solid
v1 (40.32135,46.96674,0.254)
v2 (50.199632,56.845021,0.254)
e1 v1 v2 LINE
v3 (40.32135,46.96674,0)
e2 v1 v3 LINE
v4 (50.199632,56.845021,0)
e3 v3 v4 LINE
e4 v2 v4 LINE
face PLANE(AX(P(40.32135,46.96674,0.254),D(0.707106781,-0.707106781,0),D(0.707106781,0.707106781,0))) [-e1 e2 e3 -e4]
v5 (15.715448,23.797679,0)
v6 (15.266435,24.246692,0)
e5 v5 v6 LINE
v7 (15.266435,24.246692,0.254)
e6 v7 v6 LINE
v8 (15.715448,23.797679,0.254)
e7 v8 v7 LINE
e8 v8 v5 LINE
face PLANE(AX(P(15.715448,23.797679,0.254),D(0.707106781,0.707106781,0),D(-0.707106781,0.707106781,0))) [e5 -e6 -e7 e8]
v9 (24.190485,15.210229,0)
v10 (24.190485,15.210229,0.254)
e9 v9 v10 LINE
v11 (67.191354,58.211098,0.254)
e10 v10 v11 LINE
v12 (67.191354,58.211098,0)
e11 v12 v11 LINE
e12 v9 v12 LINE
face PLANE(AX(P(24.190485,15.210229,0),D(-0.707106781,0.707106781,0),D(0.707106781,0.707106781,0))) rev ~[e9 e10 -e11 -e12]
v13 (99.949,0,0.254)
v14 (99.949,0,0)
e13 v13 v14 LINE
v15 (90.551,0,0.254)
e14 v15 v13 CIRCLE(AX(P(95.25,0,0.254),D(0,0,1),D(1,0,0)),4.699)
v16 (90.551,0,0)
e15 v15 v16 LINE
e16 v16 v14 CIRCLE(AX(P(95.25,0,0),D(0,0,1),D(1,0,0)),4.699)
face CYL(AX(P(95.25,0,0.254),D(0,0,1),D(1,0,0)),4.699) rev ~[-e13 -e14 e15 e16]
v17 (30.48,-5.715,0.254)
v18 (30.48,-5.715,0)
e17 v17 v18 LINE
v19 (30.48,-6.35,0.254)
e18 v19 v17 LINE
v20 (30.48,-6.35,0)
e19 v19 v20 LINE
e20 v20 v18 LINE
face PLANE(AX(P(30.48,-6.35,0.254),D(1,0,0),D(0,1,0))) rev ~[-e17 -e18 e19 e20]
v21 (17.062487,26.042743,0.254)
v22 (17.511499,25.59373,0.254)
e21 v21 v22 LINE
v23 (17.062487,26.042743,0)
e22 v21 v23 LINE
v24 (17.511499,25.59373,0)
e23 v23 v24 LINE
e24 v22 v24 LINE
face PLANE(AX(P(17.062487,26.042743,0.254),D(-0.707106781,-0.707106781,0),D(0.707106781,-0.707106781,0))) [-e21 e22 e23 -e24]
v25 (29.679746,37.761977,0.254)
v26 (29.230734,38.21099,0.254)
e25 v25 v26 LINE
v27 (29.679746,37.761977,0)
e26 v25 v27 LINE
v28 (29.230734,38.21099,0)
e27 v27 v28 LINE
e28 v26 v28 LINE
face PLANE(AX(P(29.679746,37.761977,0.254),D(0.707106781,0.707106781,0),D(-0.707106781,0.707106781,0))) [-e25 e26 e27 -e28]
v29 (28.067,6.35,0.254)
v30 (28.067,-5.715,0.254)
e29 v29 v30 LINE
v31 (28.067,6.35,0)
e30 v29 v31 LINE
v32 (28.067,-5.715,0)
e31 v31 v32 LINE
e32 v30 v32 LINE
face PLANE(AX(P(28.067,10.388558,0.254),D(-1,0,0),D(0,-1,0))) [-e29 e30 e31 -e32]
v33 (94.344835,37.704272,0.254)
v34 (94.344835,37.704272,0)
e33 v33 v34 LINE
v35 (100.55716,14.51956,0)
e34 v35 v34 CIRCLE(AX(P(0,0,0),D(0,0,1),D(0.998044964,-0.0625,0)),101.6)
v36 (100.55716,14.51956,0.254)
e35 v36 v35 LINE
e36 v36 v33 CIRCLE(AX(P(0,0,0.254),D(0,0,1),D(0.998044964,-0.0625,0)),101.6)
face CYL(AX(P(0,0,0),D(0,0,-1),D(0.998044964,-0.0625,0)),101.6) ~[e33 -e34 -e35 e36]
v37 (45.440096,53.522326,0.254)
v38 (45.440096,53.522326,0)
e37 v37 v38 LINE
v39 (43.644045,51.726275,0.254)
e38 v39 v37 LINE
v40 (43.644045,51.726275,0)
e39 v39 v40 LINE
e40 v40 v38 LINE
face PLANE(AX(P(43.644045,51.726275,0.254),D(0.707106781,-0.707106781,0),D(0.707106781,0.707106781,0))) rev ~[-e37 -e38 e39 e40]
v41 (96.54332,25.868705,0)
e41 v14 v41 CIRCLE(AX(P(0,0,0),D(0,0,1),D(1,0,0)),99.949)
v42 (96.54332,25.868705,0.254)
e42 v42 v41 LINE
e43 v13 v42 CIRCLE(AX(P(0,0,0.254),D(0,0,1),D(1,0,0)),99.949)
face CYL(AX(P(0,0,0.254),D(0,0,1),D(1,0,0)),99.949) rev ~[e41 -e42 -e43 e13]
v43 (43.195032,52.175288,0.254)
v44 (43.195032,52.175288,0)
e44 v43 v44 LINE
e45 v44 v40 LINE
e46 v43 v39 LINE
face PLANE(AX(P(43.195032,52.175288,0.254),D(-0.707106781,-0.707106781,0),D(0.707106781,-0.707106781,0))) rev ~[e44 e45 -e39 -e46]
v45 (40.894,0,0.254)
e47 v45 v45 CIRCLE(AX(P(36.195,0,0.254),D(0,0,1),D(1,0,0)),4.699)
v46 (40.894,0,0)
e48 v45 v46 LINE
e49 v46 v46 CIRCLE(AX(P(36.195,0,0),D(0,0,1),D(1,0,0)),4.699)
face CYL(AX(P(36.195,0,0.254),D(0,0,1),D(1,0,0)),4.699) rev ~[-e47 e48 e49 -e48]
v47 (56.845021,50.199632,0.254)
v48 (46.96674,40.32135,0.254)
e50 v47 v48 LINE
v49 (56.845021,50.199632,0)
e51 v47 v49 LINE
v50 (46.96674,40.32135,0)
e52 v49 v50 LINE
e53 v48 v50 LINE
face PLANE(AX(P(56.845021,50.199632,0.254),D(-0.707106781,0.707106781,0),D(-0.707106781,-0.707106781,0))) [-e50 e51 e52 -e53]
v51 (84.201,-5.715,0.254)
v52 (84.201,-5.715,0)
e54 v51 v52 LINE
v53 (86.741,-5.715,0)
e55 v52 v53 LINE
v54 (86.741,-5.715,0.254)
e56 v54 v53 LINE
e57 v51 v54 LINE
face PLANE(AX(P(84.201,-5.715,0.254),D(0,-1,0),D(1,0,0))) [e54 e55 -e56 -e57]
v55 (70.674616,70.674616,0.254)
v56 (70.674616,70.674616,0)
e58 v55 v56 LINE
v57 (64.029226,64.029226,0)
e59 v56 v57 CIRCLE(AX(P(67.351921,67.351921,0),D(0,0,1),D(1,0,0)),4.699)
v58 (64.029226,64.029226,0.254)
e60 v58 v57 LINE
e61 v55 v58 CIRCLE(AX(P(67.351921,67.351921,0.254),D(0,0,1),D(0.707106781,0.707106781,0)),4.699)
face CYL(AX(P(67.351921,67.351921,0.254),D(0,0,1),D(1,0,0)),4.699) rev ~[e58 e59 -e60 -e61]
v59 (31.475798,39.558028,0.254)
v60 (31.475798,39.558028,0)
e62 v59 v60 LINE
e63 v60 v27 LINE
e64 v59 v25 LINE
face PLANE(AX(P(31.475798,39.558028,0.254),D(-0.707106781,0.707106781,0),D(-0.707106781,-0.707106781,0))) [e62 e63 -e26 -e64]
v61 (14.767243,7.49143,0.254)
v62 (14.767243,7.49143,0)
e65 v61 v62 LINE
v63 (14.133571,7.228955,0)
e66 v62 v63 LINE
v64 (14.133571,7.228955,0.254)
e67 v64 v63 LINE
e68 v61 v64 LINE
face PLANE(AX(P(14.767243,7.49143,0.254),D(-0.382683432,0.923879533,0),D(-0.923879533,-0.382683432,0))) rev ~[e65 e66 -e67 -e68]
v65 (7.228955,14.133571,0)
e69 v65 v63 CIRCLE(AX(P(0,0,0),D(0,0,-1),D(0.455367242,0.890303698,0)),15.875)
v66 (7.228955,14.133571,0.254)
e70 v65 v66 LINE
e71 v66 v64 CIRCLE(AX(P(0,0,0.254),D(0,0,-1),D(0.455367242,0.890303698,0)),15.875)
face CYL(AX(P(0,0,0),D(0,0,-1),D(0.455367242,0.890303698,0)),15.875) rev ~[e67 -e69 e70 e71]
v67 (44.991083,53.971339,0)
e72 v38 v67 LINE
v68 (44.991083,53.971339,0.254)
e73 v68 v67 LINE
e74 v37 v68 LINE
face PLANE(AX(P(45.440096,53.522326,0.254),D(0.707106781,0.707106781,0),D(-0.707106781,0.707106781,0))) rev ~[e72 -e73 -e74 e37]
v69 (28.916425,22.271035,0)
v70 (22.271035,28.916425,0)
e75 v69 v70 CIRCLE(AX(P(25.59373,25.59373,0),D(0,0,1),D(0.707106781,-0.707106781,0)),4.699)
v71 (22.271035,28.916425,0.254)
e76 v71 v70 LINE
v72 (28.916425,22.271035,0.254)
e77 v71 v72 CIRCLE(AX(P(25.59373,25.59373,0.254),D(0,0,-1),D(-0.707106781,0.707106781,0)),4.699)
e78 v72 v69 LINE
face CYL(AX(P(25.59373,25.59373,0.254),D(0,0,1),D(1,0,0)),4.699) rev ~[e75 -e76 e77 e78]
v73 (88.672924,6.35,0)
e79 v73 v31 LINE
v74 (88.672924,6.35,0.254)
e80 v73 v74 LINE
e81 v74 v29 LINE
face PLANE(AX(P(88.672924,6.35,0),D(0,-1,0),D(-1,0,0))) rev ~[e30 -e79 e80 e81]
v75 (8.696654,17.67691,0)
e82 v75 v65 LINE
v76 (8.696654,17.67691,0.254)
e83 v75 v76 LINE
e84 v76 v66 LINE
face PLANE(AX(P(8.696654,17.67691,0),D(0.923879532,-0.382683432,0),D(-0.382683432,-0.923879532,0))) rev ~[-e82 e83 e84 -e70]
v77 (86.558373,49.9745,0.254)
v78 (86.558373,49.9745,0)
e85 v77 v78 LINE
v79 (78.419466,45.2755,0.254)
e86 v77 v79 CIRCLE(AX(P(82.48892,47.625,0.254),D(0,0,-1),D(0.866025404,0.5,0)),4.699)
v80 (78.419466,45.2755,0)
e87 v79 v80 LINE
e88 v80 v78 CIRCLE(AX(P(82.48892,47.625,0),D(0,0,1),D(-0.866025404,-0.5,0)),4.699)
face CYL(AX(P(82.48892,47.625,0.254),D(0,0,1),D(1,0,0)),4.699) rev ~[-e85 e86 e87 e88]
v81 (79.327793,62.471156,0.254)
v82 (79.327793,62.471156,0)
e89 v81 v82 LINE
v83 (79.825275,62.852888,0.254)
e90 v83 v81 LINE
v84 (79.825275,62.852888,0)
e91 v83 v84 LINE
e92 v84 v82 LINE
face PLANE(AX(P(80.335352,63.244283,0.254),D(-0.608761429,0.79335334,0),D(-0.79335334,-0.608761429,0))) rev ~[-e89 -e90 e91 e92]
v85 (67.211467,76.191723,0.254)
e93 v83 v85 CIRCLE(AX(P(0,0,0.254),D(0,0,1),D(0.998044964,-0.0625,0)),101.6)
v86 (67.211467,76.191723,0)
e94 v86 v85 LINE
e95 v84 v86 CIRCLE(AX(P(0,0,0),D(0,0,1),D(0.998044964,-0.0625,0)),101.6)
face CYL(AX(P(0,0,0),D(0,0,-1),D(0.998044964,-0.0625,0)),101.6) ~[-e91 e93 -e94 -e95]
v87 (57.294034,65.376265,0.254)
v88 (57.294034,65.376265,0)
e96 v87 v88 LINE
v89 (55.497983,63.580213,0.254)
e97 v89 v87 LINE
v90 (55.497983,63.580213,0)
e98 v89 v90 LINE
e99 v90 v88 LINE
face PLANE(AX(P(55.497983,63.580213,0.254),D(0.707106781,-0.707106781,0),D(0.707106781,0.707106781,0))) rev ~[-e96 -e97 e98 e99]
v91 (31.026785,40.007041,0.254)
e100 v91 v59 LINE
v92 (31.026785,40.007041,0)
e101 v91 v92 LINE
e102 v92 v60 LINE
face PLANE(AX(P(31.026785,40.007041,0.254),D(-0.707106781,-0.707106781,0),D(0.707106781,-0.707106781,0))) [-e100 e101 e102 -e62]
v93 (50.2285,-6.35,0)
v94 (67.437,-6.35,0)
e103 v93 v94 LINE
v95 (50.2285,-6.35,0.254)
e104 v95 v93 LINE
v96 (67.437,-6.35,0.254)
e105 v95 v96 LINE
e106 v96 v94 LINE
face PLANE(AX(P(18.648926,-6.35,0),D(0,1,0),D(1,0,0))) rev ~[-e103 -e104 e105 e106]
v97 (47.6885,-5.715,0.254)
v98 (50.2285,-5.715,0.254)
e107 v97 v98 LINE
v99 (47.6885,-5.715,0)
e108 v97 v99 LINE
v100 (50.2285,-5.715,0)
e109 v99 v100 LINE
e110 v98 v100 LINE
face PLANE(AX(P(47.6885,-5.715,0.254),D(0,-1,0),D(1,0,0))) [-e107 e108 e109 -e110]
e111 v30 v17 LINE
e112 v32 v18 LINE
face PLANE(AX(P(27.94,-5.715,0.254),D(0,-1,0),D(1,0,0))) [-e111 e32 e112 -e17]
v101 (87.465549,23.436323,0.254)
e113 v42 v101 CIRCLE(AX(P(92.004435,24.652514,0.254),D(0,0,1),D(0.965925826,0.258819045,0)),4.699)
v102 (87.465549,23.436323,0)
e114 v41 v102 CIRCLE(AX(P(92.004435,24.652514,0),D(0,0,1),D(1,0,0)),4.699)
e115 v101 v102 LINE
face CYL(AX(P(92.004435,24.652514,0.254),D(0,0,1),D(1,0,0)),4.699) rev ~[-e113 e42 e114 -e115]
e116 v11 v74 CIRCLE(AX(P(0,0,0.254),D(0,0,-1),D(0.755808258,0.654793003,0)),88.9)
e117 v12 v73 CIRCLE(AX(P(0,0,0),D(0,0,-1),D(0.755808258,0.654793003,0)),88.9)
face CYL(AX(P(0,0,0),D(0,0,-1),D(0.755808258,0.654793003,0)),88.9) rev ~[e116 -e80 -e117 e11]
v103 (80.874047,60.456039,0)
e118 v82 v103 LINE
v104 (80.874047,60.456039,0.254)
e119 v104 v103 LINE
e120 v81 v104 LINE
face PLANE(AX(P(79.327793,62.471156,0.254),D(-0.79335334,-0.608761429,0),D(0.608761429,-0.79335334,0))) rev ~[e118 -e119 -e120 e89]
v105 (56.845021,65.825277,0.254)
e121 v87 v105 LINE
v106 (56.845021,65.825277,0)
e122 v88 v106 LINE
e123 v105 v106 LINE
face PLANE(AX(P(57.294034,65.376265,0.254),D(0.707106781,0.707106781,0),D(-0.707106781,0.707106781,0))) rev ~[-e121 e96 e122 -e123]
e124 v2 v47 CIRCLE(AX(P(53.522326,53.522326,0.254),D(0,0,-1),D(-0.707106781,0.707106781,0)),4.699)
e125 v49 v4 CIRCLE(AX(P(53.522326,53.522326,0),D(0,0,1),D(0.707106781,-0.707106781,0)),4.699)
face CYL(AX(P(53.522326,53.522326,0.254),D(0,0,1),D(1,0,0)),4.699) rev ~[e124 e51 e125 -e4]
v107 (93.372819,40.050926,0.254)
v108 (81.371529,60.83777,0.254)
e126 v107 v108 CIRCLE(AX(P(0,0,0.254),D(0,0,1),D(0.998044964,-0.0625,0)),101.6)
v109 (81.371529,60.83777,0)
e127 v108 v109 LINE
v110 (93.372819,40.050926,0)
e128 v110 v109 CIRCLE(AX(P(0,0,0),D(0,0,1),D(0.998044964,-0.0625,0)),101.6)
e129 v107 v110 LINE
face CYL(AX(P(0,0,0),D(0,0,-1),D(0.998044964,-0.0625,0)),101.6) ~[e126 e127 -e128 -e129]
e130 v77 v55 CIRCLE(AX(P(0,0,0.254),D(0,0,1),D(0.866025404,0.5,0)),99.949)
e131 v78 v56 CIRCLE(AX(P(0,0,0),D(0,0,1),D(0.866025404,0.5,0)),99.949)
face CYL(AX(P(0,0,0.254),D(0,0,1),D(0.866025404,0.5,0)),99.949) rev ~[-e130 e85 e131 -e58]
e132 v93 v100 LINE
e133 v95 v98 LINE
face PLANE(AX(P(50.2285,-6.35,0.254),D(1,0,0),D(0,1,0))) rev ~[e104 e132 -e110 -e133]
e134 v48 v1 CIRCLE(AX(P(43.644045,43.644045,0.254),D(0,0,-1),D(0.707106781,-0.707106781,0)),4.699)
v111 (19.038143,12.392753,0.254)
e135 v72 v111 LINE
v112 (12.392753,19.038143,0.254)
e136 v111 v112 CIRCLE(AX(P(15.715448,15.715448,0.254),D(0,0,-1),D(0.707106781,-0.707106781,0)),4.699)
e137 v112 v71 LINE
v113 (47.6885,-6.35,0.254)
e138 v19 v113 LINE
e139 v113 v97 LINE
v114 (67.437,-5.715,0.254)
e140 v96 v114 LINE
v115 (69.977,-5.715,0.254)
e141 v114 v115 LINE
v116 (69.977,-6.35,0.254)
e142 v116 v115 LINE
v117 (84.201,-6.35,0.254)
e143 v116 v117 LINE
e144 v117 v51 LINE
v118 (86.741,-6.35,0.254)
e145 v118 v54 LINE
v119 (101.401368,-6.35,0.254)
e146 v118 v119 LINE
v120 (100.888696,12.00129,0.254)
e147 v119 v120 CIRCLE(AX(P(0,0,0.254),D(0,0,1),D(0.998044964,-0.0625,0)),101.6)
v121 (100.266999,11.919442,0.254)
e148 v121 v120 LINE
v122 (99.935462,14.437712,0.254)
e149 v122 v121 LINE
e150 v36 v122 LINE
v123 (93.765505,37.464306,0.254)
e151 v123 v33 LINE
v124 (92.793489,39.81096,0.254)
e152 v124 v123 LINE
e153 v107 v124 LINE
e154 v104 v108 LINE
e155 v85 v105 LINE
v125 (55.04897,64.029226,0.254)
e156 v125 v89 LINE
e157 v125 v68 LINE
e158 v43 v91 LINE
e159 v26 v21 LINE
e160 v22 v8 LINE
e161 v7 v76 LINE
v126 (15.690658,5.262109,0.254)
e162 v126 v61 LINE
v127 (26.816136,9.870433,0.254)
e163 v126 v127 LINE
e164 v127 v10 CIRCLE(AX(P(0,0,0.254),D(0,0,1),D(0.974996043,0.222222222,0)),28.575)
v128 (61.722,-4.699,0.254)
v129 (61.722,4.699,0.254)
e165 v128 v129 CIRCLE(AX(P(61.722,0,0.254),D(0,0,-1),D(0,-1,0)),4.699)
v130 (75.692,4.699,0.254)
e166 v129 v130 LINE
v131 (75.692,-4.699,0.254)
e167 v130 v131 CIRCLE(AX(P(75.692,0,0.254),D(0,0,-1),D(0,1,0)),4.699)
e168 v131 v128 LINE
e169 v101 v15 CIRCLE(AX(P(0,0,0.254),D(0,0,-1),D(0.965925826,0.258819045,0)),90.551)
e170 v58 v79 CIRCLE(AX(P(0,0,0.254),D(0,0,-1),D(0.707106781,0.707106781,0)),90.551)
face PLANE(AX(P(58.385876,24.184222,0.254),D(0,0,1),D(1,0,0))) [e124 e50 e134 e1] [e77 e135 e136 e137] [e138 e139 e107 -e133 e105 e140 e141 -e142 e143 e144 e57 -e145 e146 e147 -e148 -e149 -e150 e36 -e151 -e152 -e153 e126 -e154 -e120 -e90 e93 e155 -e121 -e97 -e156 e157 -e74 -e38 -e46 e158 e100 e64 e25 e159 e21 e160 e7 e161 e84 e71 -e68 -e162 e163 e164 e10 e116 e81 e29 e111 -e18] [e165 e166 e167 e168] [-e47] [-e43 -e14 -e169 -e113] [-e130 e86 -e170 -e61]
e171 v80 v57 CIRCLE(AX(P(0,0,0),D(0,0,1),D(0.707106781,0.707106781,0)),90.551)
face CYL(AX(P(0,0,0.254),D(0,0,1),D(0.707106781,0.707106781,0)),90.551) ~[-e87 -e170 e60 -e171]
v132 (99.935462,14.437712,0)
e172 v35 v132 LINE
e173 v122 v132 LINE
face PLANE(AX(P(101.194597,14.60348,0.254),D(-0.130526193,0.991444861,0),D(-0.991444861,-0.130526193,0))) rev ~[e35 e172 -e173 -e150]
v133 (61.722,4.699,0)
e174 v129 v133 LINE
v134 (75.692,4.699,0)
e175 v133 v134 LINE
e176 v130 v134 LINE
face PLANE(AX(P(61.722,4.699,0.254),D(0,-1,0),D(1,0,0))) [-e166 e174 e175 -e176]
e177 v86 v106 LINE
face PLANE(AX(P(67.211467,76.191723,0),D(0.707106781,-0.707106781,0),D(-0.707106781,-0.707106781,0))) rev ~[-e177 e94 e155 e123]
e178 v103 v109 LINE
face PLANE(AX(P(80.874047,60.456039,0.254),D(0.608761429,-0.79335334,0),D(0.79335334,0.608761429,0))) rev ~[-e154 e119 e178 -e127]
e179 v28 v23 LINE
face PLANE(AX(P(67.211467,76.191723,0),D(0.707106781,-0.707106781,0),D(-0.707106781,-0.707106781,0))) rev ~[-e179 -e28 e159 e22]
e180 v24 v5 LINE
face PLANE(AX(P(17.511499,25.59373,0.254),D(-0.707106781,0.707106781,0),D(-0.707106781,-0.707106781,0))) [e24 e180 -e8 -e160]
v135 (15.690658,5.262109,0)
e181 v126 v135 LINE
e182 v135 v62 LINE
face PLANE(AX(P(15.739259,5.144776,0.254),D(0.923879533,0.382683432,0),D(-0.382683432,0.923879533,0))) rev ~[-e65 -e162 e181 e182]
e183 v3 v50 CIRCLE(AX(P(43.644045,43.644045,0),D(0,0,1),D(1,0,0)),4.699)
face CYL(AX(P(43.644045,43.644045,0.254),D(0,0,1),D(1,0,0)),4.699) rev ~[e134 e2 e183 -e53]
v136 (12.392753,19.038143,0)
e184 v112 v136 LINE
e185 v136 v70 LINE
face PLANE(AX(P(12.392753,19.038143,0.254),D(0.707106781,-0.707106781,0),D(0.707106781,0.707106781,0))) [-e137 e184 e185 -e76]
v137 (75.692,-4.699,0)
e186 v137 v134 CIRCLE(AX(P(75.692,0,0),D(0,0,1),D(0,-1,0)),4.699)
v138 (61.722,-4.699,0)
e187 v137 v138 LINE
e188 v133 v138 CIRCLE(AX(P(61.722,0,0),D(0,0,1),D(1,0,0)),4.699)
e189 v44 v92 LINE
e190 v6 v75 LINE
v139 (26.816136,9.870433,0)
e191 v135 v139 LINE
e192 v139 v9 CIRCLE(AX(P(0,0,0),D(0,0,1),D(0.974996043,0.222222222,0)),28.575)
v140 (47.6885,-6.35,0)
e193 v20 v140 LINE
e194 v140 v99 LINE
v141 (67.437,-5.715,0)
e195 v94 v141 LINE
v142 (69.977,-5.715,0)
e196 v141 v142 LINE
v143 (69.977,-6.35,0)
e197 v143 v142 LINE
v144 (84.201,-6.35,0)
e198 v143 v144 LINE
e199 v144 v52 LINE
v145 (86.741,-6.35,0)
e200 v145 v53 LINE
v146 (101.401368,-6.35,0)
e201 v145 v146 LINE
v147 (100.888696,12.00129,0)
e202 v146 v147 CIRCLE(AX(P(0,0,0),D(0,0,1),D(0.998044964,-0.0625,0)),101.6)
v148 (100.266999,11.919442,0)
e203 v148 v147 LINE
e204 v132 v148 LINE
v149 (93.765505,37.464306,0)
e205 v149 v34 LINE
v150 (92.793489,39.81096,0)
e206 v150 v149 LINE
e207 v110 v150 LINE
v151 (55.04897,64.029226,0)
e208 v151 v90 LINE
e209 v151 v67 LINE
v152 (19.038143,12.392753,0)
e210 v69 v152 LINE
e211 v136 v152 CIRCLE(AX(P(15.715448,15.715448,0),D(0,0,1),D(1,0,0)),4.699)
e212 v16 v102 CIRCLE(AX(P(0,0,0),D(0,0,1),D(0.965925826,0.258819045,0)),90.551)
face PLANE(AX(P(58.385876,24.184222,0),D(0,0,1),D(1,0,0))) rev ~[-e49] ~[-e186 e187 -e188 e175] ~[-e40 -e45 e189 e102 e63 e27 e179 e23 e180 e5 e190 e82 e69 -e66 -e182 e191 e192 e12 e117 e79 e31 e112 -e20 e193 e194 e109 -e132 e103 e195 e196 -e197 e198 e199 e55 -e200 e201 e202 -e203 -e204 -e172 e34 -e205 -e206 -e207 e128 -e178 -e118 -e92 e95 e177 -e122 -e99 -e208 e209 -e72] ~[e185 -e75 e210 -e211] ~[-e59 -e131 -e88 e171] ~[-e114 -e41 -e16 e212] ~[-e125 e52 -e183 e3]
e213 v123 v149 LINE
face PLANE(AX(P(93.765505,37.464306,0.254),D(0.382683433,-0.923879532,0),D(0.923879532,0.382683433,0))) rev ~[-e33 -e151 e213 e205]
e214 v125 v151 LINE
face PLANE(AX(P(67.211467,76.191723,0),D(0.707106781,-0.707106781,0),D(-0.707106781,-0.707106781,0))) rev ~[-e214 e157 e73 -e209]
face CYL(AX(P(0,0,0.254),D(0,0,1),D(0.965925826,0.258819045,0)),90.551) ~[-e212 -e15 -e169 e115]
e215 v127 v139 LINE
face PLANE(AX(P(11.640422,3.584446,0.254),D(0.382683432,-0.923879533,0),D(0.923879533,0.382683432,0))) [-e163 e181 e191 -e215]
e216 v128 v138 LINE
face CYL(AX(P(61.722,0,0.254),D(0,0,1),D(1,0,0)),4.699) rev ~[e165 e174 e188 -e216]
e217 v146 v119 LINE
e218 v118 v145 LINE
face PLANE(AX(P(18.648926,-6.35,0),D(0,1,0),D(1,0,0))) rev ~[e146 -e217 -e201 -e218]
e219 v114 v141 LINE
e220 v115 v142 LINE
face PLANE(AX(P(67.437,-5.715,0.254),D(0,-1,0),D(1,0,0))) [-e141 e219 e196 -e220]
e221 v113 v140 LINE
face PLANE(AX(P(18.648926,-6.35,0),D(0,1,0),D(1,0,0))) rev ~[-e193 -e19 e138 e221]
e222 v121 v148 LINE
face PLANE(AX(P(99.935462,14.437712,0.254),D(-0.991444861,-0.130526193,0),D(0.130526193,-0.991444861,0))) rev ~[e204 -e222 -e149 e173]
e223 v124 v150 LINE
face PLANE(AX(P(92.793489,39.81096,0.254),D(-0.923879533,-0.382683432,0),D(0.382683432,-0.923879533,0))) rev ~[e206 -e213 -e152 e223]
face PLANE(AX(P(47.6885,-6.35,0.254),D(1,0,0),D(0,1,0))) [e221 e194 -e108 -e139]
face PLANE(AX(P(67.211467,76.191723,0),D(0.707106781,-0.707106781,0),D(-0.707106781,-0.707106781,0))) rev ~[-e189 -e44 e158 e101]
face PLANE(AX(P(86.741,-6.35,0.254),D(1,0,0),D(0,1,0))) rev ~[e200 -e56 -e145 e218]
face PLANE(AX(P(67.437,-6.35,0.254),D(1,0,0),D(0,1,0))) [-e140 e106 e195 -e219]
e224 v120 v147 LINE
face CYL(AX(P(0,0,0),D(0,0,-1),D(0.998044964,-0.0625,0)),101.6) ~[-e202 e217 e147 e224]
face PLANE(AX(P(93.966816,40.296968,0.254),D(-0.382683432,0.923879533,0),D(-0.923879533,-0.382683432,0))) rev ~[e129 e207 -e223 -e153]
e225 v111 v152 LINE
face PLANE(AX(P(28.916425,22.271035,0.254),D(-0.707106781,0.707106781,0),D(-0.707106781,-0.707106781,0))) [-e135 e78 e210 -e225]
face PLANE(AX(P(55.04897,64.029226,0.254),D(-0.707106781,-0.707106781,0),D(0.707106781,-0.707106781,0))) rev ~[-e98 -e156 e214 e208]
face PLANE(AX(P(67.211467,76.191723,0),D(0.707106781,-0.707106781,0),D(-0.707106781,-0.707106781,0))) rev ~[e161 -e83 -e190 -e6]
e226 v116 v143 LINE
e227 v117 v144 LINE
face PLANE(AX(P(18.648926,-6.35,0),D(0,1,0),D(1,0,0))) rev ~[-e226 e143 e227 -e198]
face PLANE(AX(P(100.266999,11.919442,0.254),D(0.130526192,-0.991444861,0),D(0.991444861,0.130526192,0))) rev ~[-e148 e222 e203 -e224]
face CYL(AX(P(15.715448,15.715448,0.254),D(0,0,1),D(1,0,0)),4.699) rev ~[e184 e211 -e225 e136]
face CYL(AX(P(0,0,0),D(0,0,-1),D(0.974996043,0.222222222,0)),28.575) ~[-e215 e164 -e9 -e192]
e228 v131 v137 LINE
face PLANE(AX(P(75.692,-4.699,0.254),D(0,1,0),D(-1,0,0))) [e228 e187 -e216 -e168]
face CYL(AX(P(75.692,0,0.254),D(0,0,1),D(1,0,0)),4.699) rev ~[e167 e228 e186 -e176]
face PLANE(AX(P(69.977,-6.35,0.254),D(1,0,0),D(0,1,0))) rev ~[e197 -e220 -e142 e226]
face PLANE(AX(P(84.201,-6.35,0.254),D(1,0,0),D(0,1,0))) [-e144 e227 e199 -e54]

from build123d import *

# Parameters (mm, degrees)
BOSS_EXTRUDE1_DEPTH = 0.254
SKETCH2_R           = 4.699
CUT_EXTRUDE1_DEPTH  = 1.254
SKETCH3_W           = 2.54
SKETCH3_H           = 0.635
CUT_EXTRUDE2_DEPTH  = 1.254
CUT_EXTRUDE4_DEPTH  = 1.254
CUT_EXTRUDE5_DEPTH  = 1.254


with BuildPart() as part:
    # Sketch1 → Boss-Extrude1 (new body)
    with BuildSketch(Plane.XY):
        with BuildLine():
            Line((67.21146711, 76.191723231), (8.696654013, 17.676910134))
            Line((8.696654013, 17.676910134), (7.228954972, 14.133571205))
            ThreePointArc((7.228954972, 14.133571205), (14.666587579, 6.075099489), (15.105587123, -4.88230096))
            Line((15.105587123, -4.88230096), (18.648926052, -6.35))
            Line((18.648926052, -6.35), (101.401368334, -6.35))
            ThreePointArc((101.401368334, -6.35), (93.866160503, 38.880636728), (67.21146711, 76.191723231))
        make_face()
        with BuildLine():
            Line((88.672924278, 6.35), (27.86051193, 6.35))
            ThreePointArc((27.86051193, 6.35), (26.399857642, 10.93517908), (24.190484974, 15.210228852))
            Line((24.190484974, 15.210228852), (67.191354125, 58.211098004))
            ThreePointArc((67.191354125, 58.211098004), (82.13289044, 34.020557137), (88.672924278, 6.35))
        make_face(mode=Mode.SUBTRACT)
    extrude(amount=BOSS_EXTRUDE1_DEPTH)

    # Sketch2 → Cut-Extrude1 (cut, through all)
    with BuildSketch(Plane.XY.offset(0.254)):
        with Locations((22.225, 0)):
            Circle(SKETCH2_R)
        with Locations((36.195, 0)):
            Circle(SKETCH2_R)
        with Locations((61.722, 0)):
            Circle(SKETCH2_R)
        with Locations((75.692, 0)):
            Circle(SKETCH2_R)
        with Locations((95.25, 0)):
            Circle(SKETCH2_R)
        with Locations((15.715448212, 15.715448212)):
            Circle(SKETCH2_R)
        with Locations((25.593729945, 25.593729945)):
            Circle(SKETCH2_R)
        with Locations((43.644044748, 43.644044748)):
            Circle(SKETCH2_R)
        with Locations((53.522326482, 53.522326482)):
            Circle(SKETCH2_R)
        with Locations((92.004434954, 24.652514046)):
            Circle(SKETCH2_R)
        with Locations((82.48891971, 47.625)):
            Circle(SKETCH2_R)
        with Locations((67.351920908, 67.351920908)):
            Circle(SKETCH2_R)
    extrude(amount=-CUT_EXTRUDE1_DEPTH, mode=Mode.SUBTRACT)

    # Sketch3 → Cut-Extrude2 (cut, through all)
    with BuildSketch(Plane.XY.offset(0.254)):
        Polygon((15.266435406, 24.246691527), (17.06248663, 26.042742751), (17.511499436, 25.593729945), (15.715448212, 23.797678721), align=None)
        Polygon((44.991083167, 53.971339288), (43.195031942, 52.175288063), (43.644044748, 51.726275257), (45.440095973, 53.522326482), align=None)
        with Locations((29.21, -6.0325)):
            Rectangle(SKETCH3_W, SKETCH3_H)
        with Locations((68.707, -6.0325)):
            Rectangle(SKETCH3_W, SKETCH3_H)
        Polygon((29.230733674, 38.210989795), (31.026784898, 40.007041019), (31.475797704, 39.558028213), (29.67974648, 37.761976989), align=None)
        Polygon((56.845021246, 65.825277367), (55.048970022, 64.029226143), (55.497982828, 63.580213337), (57.294034052, 65.376264561), align=None)
        with Locations((48.9585, -6.0325)):
            Rectangle(SKETCH3_W, SKETCH3_H)
        with Locations((85.471, -6.0325)):
            Rectangle(SKETCH3_W, SKETCH3_H)
        Polygon((99.935462164, 14.437711971), (100.266998693, 11.919442024), (101.526133667, 12.085210288), (101.194597138, 14.603480236), align=None)
        Polygon((93.765504959, 37.464305742), (94.938831965, 37.950313702), (93.966816047, 40.296967714), (92.793489041, 39.810959755), align=None)
        Polygon((79.327792988, 62.471156422), (80.874047017, 60.456038938), (81.88160576, 61.229165953), (80.33535173, 63.244283437), align=None)
        Polygon((13.593916116, 7.005422516), (14.565932035, 4.658768503), (15.739259041, 5.144776462), (14.767243123, 7.491430475), align=None)
    extrude(amount=-CUT_EXTRUDE2_DEPTH, mode=Mode.SUBTRACT)

    # Sketch6 → Cut-Extrude4 (cut, through all)
    with BuildSketch(Plane.XY.offset(0.254)):
        with BuildLine():
            Line((12.392753447, 19.038142977), (22.27103518, 28.91642471))
            ThreePointArc((22.27103518, 28.91642471), (28.91642471, 28.91642471), (28.91642471, 22.27103518))
            Line((28.91642471, 22.27103518), (19.038142977, 12.392753447))
            ThreePointArc((19.038142977, 12.392753447), (12.392753447, 12.392753447), (12.392753447, 19.038142977))
        make_face()
        with BuildLine():
            Line((40.321349984, 46.966739513), (50.199631717, 56.845021246))
            ThreePointArc((50.199631717, 56.845021246), (56.845021246, 56.845021246), (56.845021246, 50.199631717))
            Line((56.845021246, 50.199631717), (46.966739513, 40.321349984))
            ThreePointArc((46.966739513, 40.321349984), (40.321349984, 40.321349984), (40.321349984, 46.966739513))
        make_face()
        with BuildLine():
            Line((61.722, 4.699), (75.692, 4.699))
            ThreePointArc((75.692, 4.699), (80.391, 0), (75.692, -4.699))
            Line((75.692, -4.699), (61.722, -4.699))
            ThreePointArc((61.722, -4.699), (57.023, 0), (61.722, 4.699))
        make_face()
        with BuildLine():
            ThreePointArc((99.949, 0), (99.093922449, 13.045962386), (96.543320412, 25.868704739))
            ThreePointArc((96.543320412, 25.868704739), (90.788244261, 29.191399504), (87.465549496, 23.436323353))
            ThreePointArc((87.465549496, 23.436323353), (89.776323642, 11.819277232), (90.551, 0))
            ThreePointArc((90.551, 0), (95.25, -4.699), (99.949, 0))
        make_face()
        with BuildLine():
            ThreePointArc((86.558373083, 49.9745), (79.294873009, 60.845096068), (70.674615673, 70.674615673))
            ThreePointArc((70.674615673, 70.674615673), (64.029226143, 70.674615673), (64.029226143, 64.029226143))
            ThreePointArc((64.029226143, 64.029226143), (71.838938317, 55.123956158), (78.419466338, 45.2755))
            ThreePointArc((78.419466338, 45.2755), (84.83841971, 43.555546628), (86.558373083, 49.9745))
        make_face()
    extrude(amount=-CUT_EXTRUDE4_DEPTH, mode=Mode.SUBTRACT)

    # Sketch5 → Cut-Extrude5 (cut, through all)
    with BuildSketch(Plane.XY.offset(0.254)):
        Polygon((11.640421912, 3.584446343), (28.067, 10.38855777), (28.067, -7.62), (11.640421912, -7.62), align=None)
    extrude(amount=-CUT_EXTRUDE5_DEPTH, mode=Mode.SUBTRACT)


solid = part.part
